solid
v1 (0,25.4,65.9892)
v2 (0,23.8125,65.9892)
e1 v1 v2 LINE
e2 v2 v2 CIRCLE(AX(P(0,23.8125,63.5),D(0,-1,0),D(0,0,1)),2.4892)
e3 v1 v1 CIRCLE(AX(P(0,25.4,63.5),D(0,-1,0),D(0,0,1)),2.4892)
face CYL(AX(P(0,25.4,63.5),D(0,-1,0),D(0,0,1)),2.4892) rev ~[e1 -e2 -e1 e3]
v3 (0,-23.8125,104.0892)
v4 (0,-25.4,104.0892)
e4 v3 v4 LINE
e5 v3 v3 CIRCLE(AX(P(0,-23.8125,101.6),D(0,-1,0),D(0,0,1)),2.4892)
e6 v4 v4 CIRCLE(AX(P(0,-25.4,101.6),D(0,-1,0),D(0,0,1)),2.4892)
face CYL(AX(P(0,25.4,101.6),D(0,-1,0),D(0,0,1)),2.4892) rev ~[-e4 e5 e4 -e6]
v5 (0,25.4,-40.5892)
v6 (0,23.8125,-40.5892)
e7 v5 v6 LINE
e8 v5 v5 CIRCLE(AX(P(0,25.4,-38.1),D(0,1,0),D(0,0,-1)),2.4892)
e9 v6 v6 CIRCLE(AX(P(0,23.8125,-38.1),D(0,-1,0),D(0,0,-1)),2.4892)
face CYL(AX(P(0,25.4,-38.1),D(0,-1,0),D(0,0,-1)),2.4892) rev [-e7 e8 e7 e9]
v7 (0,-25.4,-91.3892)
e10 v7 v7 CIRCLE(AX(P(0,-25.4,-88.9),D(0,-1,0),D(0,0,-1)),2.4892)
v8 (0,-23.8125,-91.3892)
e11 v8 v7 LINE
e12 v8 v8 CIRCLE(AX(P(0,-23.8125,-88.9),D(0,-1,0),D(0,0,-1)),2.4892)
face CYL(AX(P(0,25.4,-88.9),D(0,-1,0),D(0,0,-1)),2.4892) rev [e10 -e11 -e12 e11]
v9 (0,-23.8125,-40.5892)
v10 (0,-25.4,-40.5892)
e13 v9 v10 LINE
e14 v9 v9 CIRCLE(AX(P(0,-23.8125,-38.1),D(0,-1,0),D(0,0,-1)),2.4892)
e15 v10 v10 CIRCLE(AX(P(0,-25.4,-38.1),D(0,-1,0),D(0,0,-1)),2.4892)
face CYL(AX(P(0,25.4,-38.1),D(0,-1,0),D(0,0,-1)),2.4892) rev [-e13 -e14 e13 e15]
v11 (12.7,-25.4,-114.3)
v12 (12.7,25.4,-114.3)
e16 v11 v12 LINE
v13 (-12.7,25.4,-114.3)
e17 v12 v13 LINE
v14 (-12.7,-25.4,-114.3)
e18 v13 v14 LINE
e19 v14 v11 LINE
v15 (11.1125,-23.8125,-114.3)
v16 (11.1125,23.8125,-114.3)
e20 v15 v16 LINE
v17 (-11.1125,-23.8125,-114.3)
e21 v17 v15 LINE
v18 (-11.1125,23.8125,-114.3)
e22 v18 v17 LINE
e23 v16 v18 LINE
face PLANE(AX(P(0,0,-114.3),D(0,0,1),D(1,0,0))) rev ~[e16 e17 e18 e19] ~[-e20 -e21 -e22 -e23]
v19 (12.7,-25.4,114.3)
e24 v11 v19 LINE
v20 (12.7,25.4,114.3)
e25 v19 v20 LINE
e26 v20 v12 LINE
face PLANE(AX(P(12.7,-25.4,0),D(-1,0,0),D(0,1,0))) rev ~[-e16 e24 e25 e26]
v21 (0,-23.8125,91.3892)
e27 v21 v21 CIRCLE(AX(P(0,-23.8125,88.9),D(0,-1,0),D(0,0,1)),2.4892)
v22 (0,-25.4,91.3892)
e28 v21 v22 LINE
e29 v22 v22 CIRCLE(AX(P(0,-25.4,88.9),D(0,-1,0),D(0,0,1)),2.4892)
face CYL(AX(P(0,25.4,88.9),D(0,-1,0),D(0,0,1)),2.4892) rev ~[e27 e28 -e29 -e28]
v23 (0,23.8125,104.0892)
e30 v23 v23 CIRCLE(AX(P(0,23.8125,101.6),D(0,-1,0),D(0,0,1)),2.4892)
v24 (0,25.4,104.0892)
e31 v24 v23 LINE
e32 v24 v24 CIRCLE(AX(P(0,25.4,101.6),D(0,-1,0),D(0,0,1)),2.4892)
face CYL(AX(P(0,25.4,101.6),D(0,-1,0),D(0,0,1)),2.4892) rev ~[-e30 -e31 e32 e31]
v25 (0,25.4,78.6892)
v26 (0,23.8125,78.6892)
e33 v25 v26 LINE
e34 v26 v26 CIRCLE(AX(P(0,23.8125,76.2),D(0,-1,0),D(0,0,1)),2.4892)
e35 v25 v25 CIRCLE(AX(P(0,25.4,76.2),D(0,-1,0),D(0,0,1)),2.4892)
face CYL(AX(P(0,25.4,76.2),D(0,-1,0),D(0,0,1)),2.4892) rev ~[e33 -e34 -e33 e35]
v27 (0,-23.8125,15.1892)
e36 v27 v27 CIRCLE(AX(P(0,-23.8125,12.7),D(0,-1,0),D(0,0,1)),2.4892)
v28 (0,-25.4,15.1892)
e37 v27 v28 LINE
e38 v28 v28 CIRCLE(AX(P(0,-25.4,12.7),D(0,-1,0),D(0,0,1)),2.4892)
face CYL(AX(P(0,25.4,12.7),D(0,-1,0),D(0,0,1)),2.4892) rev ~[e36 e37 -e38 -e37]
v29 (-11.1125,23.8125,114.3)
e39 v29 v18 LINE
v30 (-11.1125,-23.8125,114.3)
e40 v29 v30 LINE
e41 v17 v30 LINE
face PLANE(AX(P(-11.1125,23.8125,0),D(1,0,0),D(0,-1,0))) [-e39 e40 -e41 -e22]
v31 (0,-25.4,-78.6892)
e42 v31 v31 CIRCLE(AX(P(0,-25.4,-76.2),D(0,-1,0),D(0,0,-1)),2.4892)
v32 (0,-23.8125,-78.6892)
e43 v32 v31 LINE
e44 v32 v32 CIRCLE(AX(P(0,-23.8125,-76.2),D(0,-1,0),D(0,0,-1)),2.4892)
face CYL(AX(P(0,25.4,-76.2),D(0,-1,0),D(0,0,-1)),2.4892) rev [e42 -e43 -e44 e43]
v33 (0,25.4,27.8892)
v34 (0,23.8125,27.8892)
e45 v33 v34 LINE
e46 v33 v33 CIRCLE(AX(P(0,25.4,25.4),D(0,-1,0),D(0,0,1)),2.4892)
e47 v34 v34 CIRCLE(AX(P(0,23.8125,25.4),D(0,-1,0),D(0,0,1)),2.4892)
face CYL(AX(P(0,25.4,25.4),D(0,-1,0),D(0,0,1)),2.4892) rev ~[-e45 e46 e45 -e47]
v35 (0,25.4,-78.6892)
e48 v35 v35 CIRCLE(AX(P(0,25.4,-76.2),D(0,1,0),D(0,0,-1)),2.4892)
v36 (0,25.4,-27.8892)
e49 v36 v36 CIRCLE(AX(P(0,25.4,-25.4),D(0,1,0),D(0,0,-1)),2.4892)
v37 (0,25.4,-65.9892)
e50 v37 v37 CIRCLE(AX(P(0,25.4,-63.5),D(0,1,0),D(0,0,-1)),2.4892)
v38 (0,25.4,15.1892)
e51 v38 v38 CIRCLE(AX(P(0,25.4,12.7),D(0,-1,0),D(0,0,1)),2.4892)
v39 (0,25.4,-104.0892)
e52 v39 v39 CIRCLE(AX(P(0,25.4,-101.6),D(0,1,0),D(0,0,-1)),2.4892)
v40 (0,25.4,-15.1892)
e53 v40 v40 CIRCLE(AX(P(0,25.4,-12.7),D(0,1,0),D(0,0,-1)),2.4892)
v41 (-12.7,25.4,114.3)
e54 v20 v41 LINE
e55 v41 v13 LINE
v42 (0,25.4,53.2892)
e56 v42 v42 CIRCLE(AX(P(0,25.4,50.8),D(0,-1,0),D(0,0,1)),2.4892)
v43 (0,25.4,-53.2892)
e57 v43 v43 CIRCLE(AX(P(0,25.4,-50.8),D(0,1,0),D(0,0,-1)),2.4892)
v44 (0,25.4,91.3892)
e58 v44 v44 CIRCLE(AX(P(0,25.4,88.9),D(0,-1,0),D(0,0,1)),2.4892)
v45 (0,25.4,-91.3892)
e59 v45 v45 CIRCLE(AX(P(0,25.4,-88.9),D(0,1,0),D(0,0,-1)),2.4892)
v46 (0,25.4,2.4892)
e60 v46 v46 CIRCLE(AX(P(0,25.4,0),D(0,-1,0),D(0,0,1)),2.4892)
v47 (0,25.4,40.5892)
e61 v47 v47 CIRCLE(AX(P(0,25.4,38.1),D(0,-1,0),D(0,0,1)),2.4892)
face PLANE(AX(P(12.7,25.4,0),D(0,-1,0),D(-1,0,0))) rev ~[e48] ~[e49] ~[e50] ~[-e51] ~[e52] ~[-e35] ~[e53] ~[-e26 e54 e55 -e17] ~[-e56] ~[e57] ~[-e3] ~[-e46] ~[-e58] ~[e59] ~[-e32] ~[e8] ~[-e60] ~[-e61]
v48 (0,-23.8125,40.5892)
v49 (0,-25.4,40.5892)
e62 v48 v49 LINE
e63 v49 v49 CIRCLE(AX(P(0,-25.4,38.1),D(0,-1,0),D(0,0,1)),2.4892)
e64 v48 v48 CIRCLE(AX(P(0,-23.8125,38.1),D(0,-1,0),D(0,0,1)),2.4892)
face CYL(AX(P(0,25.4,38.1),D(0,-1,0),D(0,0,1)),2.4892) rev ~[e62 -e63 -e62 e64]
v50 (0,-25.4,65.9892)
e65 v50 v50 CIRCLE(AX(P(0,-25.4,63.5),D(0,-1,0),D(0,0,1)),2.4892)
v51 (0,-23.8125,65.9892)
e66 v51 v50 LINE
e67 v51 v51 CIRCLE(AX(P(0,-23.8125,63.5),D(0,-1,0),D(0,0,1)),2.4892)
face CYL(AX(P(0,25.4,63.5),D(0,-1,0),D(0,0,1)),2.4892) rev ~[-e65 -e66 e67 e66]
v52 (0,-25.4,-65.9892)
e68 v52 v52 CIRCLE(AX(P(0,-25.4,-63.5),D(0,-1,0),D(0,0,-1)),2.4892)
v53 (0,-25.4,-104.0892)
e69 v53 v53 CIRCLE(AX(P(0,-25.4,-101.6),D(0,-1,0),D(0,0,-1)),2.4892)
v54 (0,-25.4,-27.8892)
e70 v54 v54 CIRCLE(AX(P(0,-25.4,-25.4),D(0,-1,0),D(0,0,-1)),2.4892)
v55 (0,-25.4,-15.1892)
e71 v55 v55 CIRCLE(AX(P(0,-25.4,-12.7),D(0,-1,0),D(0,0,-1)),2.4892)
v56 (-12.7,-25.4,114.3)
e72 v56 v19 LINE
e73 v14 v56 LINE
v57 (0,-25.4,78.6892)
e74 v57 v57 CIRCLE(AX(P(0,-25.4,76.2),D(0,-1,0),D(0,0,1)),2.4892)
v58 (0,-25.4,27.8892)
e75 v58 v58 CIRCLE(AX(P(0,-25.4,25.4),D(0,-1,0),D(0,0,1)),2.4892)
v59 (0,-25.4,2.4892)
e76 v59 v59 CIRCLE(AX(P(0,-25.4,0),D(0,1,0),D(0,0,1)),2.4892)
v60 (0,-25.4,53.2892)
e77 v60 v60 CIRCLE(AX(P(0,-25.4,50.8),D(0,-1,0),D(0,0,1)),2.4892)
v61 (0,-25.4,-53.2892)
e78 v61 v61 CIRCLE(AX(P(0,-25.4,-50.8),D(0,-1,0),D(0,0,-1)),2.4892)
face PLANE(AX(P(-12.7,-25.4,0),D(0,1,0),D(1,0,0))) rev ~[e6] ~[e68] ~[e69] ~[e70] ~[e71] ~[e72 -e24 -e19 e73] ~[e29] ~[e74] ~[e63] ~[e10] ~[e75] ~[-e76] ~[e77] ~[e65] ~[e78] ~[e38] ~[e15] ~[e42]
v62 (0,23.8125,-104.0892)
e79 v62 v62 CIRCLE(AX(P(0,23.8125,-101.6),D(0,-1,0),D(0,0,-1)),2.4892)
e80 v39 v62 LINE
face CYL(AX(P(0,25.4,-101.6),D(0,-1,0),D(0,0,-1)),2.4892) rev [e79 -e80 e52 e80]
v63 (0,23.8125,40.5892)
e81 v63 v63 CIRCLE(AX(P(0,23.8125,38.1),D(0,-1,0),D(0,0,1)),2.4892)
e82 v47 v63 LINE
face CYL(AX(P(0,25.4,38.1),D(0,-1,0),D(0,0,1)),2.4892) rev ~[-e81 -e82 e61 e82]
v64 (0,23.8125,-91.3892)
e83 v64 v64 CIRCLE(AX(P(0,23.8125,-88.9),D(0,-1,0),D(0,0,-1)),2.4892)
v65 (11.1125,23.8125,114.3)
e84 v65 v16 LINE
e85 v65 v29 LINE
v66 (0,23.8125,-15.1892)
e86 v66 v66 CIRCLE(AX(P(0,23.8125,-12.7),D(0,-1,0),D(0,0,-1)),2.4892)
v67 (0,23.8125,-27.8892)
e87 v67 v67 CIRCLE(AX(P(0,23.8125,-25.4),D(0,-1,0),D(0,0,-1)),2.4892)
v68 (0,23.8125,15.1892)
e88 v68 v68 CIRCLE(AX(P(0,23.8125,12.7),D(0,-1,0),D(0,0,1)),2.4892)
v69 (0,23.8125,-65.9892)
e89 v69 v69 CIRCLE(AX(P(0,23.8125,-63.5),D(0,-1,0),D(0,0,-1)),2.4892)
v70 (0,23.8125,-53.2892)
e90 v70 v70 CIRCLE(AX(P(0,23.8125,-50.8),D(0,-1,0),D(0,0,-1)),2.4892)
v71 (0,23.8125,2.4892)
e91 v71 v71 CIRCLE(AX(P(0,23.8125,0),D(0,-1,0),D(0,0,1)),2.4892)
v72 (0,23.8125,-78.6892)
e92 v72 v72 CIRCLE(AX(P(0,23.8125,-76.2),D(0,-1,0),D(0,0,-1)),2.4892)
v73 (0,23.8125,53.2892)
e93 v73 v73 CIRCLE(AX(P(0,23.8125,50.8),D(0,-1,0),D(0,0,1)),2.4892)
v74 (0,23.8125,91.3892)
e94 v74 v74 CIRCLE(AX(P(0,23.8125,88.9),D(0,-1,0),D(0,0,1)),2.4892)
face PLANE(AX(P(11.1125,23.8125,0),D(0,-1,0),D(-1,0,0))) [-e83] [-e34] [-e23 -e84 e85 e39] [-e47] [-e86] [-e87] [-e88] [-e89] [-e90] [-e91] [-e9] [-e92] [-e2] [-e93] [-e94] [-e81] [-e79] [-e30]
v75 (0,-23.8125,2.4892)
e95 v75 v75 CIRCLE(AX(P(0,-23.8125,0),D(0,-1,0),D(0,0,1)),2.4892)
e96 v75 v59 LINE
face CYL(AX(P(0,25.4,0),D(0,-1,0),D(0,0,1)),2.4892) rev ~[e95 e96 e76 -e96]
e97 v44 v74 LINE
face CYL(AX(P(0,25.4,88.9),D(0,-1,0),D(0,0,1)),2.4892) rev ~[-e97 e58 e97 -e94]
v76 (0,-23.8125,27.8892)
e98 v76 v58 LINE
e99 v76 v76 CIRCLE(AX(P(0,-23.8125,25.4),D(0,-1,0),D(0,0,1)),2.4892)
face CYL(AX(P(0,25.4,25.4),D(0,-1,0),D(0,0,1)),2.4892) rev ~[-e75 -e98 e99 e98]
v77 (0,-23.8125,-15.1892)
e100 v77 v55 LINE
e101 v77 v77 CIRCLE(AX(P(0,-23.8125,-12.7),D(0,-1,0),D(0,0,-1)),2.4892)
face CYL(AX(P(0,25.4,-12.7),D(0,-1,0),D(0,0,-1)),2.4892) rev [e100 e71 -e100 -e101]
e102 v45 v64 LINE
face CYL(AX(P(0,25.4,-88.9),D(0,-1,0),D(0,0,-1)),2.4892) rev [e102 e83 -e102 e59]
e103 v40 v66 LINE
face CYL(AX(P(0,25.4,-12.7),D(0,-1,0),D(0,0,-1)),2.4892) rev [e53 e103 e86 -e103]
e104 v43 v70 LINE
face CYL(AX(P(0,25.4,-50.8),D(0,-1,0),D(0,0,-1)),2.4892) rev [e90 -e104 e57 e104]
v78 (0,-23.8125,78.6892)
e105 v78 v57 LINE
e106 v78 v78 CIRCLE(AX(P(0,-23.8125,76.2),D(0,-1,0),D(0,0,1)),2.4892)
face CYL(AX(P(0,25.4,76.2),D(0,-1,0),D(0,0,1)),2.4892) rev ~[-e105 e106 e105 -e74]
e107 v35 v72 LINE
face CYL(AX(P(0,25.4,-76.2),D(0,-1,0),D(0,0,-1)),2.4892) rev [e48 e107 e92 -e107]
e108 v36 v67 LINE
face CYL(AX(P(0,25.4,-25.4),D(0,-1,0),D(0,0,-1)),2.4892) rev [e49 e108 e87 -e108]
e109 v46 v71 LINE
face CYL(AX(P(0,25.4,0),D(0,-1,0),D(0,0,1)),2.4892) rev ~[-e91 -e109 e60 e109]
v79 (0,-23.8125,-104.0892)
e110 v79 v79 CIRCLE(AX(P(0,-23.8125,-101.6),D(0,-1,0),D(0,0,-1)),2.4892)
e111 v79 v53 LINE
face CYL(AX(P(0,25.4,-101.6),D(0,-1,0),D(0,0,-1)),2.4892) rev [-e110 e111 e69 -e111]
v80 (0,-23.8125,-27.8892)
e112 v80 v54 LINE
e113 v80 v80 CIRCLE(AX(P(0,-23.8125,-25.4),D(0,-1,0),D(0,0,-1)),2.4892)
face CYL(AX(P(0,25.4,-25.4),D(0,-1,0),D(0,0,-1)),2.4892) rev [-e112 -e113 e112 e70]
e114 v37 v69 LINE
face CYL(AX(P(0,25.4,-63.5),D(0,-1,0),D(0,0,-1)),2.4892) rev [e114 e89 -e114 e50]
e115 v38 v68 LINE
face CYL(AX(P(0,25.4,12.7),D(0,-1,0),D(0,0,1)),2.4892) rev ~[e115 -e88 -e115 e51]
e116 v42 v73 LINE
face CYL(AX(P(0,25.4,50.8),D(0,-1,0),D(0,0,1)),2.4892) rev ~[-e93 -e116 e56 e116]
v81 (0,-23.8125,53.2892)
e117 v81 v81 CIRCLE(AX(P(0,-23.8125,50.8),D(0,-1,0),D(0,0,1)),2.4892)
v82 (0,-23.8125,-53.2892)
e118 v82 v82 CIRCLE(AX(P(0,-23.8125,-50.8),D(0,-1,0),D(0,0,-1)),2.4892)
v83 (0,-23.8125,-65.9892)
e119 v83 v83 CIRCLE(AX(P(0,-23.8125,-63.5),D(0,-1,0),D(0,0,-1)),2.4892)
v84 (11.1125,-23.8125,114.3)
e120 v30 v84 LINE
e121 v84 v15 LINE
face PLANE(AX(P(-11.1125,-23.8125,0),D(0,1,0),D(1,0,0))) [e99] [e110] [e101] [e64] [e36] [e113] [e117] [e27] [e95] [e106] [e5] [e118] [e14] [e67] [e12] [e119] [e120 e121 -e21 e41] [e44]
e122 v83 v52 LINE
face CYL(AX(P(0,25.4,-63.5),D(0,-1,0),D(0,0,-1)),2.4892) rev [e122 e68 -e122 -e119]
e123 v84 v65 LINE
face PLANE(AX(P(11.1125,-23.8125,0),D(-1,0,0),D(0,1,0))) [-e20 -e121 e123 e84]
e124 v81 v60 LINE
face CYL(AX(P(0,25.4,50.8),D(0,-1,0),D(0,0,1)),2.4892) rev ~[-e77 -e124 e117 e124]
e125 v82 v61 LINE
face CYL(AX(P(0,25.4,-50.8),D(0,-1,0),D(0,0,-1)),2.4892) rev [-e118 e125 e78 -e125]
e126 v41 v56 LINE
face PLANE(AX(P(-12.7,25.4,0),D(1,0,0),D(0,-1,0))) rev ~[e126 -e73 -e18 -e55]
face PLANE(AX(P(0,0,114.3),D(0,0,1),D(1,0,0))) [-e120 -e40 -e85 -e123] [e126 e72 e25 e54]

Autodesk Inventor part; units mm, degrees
ref_plane "YZ Plane" through (0, 0, 0) normal (1, 0, 0) x (0, 1, 0)
ref_plane "XZ Plane" through (0, 0, 0) normal (0, 1, 0) x (-1, 0, 0)
ref_plane "XY Plane" through (0, 0, 0) normal (0, 0, 1) x (1, 0, 0)
sketch "Sketch1" plane through (0, 0, 0) normal (0, 0, 1) x (1, 0, 0)
  line L0 (-12.7, -25.4) -> (12.7, -25.4)
  line L1 (12.7, -25.4) -> (12.7, 25.4)
  line L2 (12.7, 25.4) -> (-12.7, 25.4)
  line L3 (-12.7, 25.4) -> (-12.7, -25.4)
  line L4 (-12.7, -25.4) -> (12.7, 25.4) construction
  line L5 (12.7, -25.4) -> (-12.7, 25.4) construction
  line L6 (-11.1125, -23.8125) -> (11.1125, -23.8125)
  line L7 (11.1125, -23.8125) -> (11.1125, 23.8125)
  line L8 (11.1125, 23.8125) -> (-11.1125, 23.8125)
  line L9 (-11.1125, 23.8125) -> (-11.1125, -23.8125)
  point P0 (0, 0)
  dimension "d0" = 25.4
  dimension "d1" = 50.8
  dimension "d2" = 1.5875
extrude "BaseTube" add sketch "Sketch1" along normal mid plane 228.6
sketch "TopPoint" plane through (-12.7, 25.4, 114.3) normal (0, 1, 0) x (1, 0, 0)
  line L0 (25.4, 0) -> (0, 0) projected
  line L1 (0, 228.6) -> (0, 0) projected
  point P0 (12.7, 12.7)
  dimension "TLE_" = 12.7
  dimension "TWE_" = 12.7
sketch "SidePoint" plane through (12.7, -25.4, 114.3) normal (1, 0, 0) x (0, 0, -1)
  line L0 (0, 0) -> (0, 50.8) projected
  line L1 (228.6, 50.8) -> (0, 50.8) projected
  point P0 (88.9, 44.45)
  dimension "SLE_" = 88.9
  dimension "SWE_" = 6.35
hole "TopHole" at (0, 25.4, 101.6) direction (0, -1, 0) diameter 4.9784 end through all
hole "SideHole" [suppressed]
pattern_linear "TopPattern" count 9 spacing 12.7 along (0, 0, -1) of "TopHole"
pattern_linear "SidePattern" [suppressed]
mirror "TopMirror" about plane through (0, 0, 0) normal (0, 0, 1) of "TopHole", "TopPattern"
mirror "SideMirror" [suppressed]
sketch "Sketch4" plane through (-12.7, 25.4, 114.3) normal (0, 1, 0) x (1, 0, 0)
  line L0 (25.4, 228.6) -> (25.4, 0) projected
  line L1 (25.4, 0) -> (0, 0) projected
  line L2 (0, 228.6) -> (25.4, 228.6) projected
  line L3 (0, 228.6) -> (0, 0) projected
  line L4 (0, 0) -> (25.4, 25.4)
  line L5 (0, 228.6) -> (25.4, 203.2)
  dimension "d36" = 25.4
extrude "CornerCut" [suppressed]
sketch "Sketch5" plane through (12.7, -25.4, 114.3) normal (1, 0, 0) x (0, 0, -1)
  circle A0 centre (31.75, 25.4) radius 14.2875
  line L0 (0, 0) -> (0, 50.8) projected
  point P0 (0, 25.4)
  dimension "d39" = 28.575
  dimension "d40" = 31.75
extrude "FrontBearingHole" [suppressed]
sketch "Sketch6" plane through (12.7, -25.4, 114.3) normal (1, 0, 0) x (0, 0, -1)
  circle A0 centre (196.85, 25.4) radius 14.2875
  line L0 (228.6, 50.8) -> (228.6, 0) projected
  point P0 (228.6, 25.4)
  dimension "d43" = 28.575
  dimension "d44" = 31.75
extrude "BackBearingHole" [suppressed]
sketch "6wd" plane through (12.7, -25.4, 114.3) normal (1, 0, 0) x (0, 0, -1)
  circle A0 centre (-66.668, 25.4) radius 14.2875
  circle A1 centre (114.3, 23.8125) radius 14.2875
  circle A2 centre (295.268, 25.4) radius 14.2875
  line L0 (228.6, 50.8) -> (0, 50.8) projected
  line L1 (228.6, 0) -> (0, 0) construction
  arc A3 (-66.5085, 43.5907) -> (-66.8276, 7.2093) centre (-66.668, 25.4) ccw construction
  arc A4 (114.1404, 5.6218) -> (114.4596, 42.0032) centre (114.3, 23.8125) ccw construction
  line L2 (-66.5085, 43.5907) -> (114.4596, 42.0032) construction
  line L3 (114.1404, 5.6218) -> (-66.8276, 7.2093) construction
  circle A5 centre (-66.668, 25.4) radius 50.8 construction
  circle A6 centre (114.3, 23.8125) radius 50.8 construction
  circle A7 centre (295.268, 25.4) radius 50.8 construction
  point P0 (-49.8301, 8.562)
  point P1 (97.462, 40.6505)
  point P2 (278.4301, 42.238)
  point P3 (-42.8555, 25.4)
  point P4 (-49.8301, 42.238)
  point P5 (-66.668, 49.2125)
  point P6 (-83.506, 42.238)
  point P7 (-90.4805, 25.4)
  point P8 (-83.506, 8.562)
  point P9 (-66.668, 1.5875)
  point P10 (90.4875, 23.8125)
  point P11 (97.462, 6.9745)
  point P12 (114.3, 0)
  point P13 (131.138, 6.9745)
  point P14 (138.1125, 23.8125)
  point P15 (131.138, 40.6505)
  point P16 (114.3, 47.625)
  point P17 (271.4555, 25.4)
  point P18 (278.4301, 8.562)
  point P19 (295.268, 1.5875)
  point P20 (312.106, 8.562)
  point P21 (319.0805, 25.4)
  point P22 (312.106, 42.238)
  point P23 (295.268, 49.2125)
  point P24 (114.3, 50.8)
  point P25 (-123.818, 25.4)
  point P26 (57.15, 23.8125)
  point P27 (238.118, 25.4)
  point P28 (-9.518, 25.4)
  point P29 (171.45, 23.8125)
  point P30 (352.418, 25.4)
  point P31 (-28.568, 26.9875)
  point P32 (257.168, 26.9875)
  point P33 (152.4, 26.9875)
  point P34 (76.2, 26.9875)
  dimension "d47" = 28.575
  dimension "d50" = 315
  dimension "d52" = 25.4
  dimension "d55" = 315
  dimension "d59" = 315
  dimension "d61" = 23.8125
  dimension "d62" = 23.8125
  dimension "d63" = 23.8125
  dimension "d64" = 26.9875
  dimension "d68" = 36.3828
  dimension "d69" = 57.15
  dimension "d70" = 180.975
  dimension "d71" = 57.15
  dimension "d72" = 180.975
  dimension "d73" = 180.975
  dimension "d74" = 101.6
  dimension "d131" = 180
  dimension "d133" = 114.3
  dimension "d136" = 360
  dimension "d140" = 360
  dimension "d142" = 114.3
  dimension "d143" = 114.3
  dimension "d186" = 38.1
  dimension "d187" = 38.1
  dimension "d188" = 38.1
  dimension "d189" = 38.1
  dimension "d190" = 23.8125
extrude "6wdBearings" [suppressed]
hole "6wdBearingBlocks" [suppressed]
sketch "8wd" plane through (12.7, -25.4, 114.3) normal (1, 0, 0) x (0, 0, -1)
  circle A0 centre (-71.3968, 26.9875) radius 14.2875
  circle A1 centre (52.3875, 23.8125) radius 14.2875
  circle A2 centre (176.2125, 23.8125) radius 14.2875
  circle A3 centre (299.9968, 26.9875) radius 14.2875
  line L0 (228.6, 50.8) -> (0, 50.8) projected
  arc A4 (-70.9303, 45.1729) -> (-71.8632, 8.8021) centre (-71.3968, 26.9875) ccw construction
  arc A5 (51.9211, 5.6271) -> (52.8539, 41.9979) centre (52.3875, 23.8125) ccw construction
  line L1 (-70.9303, 45.1729) -> (52.8539, 41.9979) construction
  line L2 (51.9211, 5.6271) -> (-71.8632, 8.8021) construction
  arc A6 (176.2125, 5.6211) -> (176.2125, 42.0039) centre (176.2125, 23.8125) ccw construction
  arc A7 (52.3875, 42.0039) -> (52.3875, 5.6211) centre (52.3875, 23.8125) ccw construction
  line L3 (52.3875, 42.0039) -> (176.2125, 42.0039) construction
  line L4 (52.3875, 5.6211) -> (176.2125, 5.6211) construction
  line L5 (114.3, 50.8) -> (114.3, 0) construction
  line L6 (0, 0) -> (228.6, 0) projected
  circle A8 centre (-71.3968, 26.9875) radius 50.8 construction
  circle A9 centre (52.3875, 23.8125) radius 50.8 construction
  circle A10 centre (176.2125, 23.8125) radius 50.8 construction
  circle A11 centre (299.9968, 26.9875) radius 50.8 construction
  line L7 (0, 0) -> (0, 50.8) projected
  line L8 (228.6, 50.8) -> (228.6, 0) projected
  point P0 (-71.3968, 50.8)
  point P1 (52.3875, 47.625)
  point P2 (176.2125, 47.625)
  point P3 (299.9968, 50.8)
  point P4 (-88.2348, 43.8255)
  point P5 (-95.2093, 26.9875)
  point P6 (-88.2348, 10.1495)
  point P7 (-71.3968, 3.175)
  point P8 (-54.5588, 10.1495)
  point P9 (-47.5843, 26.9875)
  point P10 (-54.5588, 43.8255)
  point P11 (35.5495, 40.6505)
  point P12 (28.575, 23.8125)
  point P13 (35.5495, 6.9745)
  point P14 (52.3875, 0)
  point P15 (69.2255, 6.9745)
  point P16 (76.2, 23.8125)
  point P17 (69.2255, 40.6505)
  point P18 (159.3745, 40.6505)
  point P19 (152.4, 23.8125)
  point P20 (159.3745, 6.9745)
  point P21 (176.2125, 0)
  point P22 (193.0505, 6.9745)
  point P23 (200.025, 23.8125)
  point P24 (193.0505, 40.6505)
  point P25 (283.1588, 43.8255)
  point P26 (276.1843, 26.9875)
  point P27 (283.1588, 10.1495)
  point P28 (299.9968, 3.175)
  point P29 (316.8348, 10.1495)
  point P30 (323.8093, 26.9875)
  point P31 (316.8348, 43.8255)
  point P32 (-128.5468, 26.9875)
  point P33 (-14.2468, 26.9875)
  point P34 (-4.7625, 23.8125)
  point P35 (119.0625, 23.8125)
  point P36 (242.8468, 26.9875)
  point P37 (109.5375, 23.8125)
  point P38 (233.3625, 23.8125)
  point P39 (357.1468, 26.9875)
  point P40 (-33.3299, 25.4)
  point P41 (14.2875, 25.4)
  point P42 (90.4875, 25.4)
  point P43 (138.1125, 25.4)
  point P44 (214.3125, 25.4)
  point P45 (261.9299, 25.4)
  dimension "d84" = 28.575
  dimension "d86" = 26.9875
  dimension "d87" = 23.8125
  dimension "d88" = 23.8125
  dimension "d89" = 23.8125
  dimension "d90" = 23.8125
  dimension "d93" = 360
  dimension "d97" = 360
  dimension "d101" = 360
  dimension "d105" = 360
  dimension "d107" = 36.3828
  dimension "d108" = 57.15
  dimension "d109" = 123.825
  dimension "d110" = 57.15
  dimension "d111" = 123.825
  dimension "d112" = 123.825
  dimension "d113" = 36.3828
  dimension "d114" = 57.15
  dimension "d115" = 123.825
  dimension "d116" = 57.15
  dimension "d117" = 123.825
  dimension "d118" = 61.9125
  dimension "d119" = 101.6
  dimension "d206" = 23.8125
  dimension "d211" = 360
  dimension "d213" = 114.3
  dimension "d216" = 360
  dimension "d218" = 114.3
  dimension "d221" = 360
  dimension "d223" = 114.3
  dimension "d226" = 360
  dimension "d228" = 114.3
  dimension "d285" = 25.4
  dimension "d286" = 38.1
  dimension "d287" = 38.1
  dimension "d288" = 38.1
  dimension "d289" = 38.1
  dimension "d290" = 38.1
  dimension "d291" = 38.1
extrude "8wdBearings" [suppressed]
hole "8wdBearingBlocks" [suppressed]
sketch "6wdPoints" plane through (-12.7, -25.4, 114.3) normal (-1, 0, 0) x (0, 0, 1)
  point P0 (123.818, 25.4)
  point P1 (9.518, 25.4)
  point P2 (-57.15, 23.8125)
  point P3 (-171.45, 23.8125)
  point P4 (-238.118, 25.4)
  point P5 (-352.418, 25.4)
  point P6 (28.568, 26.9875)
  point P7 (-76.2, 26.9875)
  point P8 (-152.4, 26.9875)
  point P9 (-257.168, 26.9875)
hole "FL6wdGB" [suppressed]
hole "ML6wdGB" [suppressed]
hole "BL6wdGB" [suppressed]
hole "FR6wdGB" [suppressed]
hole "MR6wdGB" [suppressed]
hole "BR6wdGB" [suppressed]
hole "CL6wd" [suppressed]
hole "CR6wd" [suppressed]
sketch "Sketch10" plane through (-12.7, -25.4, 114.3) normal (-1, 0, 0) x (0, 0, 1)
  point P0 (128.5468, 26.9875)
  point P1 (14.2468, 26.9875)
  point P2 (4.7625, 23.8125)
  point P3 (-109.5375, 23.8125)
  point P4 (-119.0625, 23.8125)
  point P5 (-233.3625, 23.8125)
  point P6 (-242.8468, 26.9875)
  point P7 (-357.1468, 26.9875)
hole "FL8wdGB" [suppressed]
hole "FMdL8wdGB" [suppressed]
hole "BMdL8wdGB" [suppressed]
hole "BL8wdGB" [suppressed]
hole "FR8wdGB" [suppressed]
hole "FMdR8wdGB" [suppressed]
hole "BMdR8wdGB" [suppressed]
hole "BR8wdGB" [suppressed]
hole "CL8wd" [suppressed]
sketch "Sketch11" plane through (-12.7, -25.4, 114.3) normal (-1, 0, 0) x (0, 0, 1)
  line L0 (-228.6, 50.8) -> (0, 50.8) projected
  line L1 (0, 0) -> (0, 50.8) projected
  line L2 (0, 0) -> (-228.6, 0) projected
  line L3 (-228.6, 50.8) -> (-228.6, 0) projected
  point P0 (33.3299, 25.4)
  point P1 (-14.2875, 25.4)
  point P2 (-90.4875, 25.4)
  point P3 (-138.1125, 25.4)
  point P4 (-214.3125, 25.4)
  point P5 (-261.9299, 25.4)
hole "CR8wd" [suppressed]
sketch "Sketch12" plane through (-12.7, -25.4, 114.3) normal (-1, 0, 0) x (0, 0, 1)
  circle A0 centre (-152.4, 44.45) radius 2.4892 projected
  circle A1 centre (-152.4, 31.75) radius 2.4892 projected
  circle A2 centre (-152.4, 19.05) radius 2.4892 projected
  circle A3 centre (-152.4, 6.35) radius 2.4892 projected
  circle A4 centre (-88.9, 44.45) radius 2.4892 projected
  circle A5 centre (-88.9, 31.75) radius 2.4892 projected
  circle A6 centre (-88.9, 19.05) radius 2.4892 projected
  circle A7 centre (-88.9, 6.35) radius 2.4892 projected
  point P0 (-88.9, 31.75)
hole "Hole23" [suppressed]
equation "\"d0\" = Width"
equation "\"d1\" = Height"
equation "\"d2\" = Wall"
equation "\"d3\" = Length"
equation "\"d62\" = d61"
equation "\"d63\" = d61"
equation "\"d6\" = HoleSize"
equation "\"d73\" = d72"
equation "\"d77\" = HoleSize"
equation "\"Height\" = 50.8"
equation "\"Width\" = 25.4"
equation "\"Wall\" = 1.5875"
equation "\"Length\" = 228.6"
equation "\"Top_Lengthwise_Space\" = 12.7"
equation "\"Top_Widthwise_Space\" = 12.7"
equation "\"Top_Lengthwise_Edge\" = 12.7"
equation "\"Top_Widthwise_Edge\" = 12.7"
equation "\"Side_Lengthwise_Edge\" = 88.9"
equation "\"Side_Widthwise_Edge\" = 12.7"
equation "\"Side_Lengthwise_Space\" = 12.7"
equation "\"Side_Widthwise_Space\" = 12.7"
equation "\"HoleSize\" = 4.9784"
properties part number "GreyT Claw 2 Main Tube 9 Gusset" material "Aluminum 6061"
